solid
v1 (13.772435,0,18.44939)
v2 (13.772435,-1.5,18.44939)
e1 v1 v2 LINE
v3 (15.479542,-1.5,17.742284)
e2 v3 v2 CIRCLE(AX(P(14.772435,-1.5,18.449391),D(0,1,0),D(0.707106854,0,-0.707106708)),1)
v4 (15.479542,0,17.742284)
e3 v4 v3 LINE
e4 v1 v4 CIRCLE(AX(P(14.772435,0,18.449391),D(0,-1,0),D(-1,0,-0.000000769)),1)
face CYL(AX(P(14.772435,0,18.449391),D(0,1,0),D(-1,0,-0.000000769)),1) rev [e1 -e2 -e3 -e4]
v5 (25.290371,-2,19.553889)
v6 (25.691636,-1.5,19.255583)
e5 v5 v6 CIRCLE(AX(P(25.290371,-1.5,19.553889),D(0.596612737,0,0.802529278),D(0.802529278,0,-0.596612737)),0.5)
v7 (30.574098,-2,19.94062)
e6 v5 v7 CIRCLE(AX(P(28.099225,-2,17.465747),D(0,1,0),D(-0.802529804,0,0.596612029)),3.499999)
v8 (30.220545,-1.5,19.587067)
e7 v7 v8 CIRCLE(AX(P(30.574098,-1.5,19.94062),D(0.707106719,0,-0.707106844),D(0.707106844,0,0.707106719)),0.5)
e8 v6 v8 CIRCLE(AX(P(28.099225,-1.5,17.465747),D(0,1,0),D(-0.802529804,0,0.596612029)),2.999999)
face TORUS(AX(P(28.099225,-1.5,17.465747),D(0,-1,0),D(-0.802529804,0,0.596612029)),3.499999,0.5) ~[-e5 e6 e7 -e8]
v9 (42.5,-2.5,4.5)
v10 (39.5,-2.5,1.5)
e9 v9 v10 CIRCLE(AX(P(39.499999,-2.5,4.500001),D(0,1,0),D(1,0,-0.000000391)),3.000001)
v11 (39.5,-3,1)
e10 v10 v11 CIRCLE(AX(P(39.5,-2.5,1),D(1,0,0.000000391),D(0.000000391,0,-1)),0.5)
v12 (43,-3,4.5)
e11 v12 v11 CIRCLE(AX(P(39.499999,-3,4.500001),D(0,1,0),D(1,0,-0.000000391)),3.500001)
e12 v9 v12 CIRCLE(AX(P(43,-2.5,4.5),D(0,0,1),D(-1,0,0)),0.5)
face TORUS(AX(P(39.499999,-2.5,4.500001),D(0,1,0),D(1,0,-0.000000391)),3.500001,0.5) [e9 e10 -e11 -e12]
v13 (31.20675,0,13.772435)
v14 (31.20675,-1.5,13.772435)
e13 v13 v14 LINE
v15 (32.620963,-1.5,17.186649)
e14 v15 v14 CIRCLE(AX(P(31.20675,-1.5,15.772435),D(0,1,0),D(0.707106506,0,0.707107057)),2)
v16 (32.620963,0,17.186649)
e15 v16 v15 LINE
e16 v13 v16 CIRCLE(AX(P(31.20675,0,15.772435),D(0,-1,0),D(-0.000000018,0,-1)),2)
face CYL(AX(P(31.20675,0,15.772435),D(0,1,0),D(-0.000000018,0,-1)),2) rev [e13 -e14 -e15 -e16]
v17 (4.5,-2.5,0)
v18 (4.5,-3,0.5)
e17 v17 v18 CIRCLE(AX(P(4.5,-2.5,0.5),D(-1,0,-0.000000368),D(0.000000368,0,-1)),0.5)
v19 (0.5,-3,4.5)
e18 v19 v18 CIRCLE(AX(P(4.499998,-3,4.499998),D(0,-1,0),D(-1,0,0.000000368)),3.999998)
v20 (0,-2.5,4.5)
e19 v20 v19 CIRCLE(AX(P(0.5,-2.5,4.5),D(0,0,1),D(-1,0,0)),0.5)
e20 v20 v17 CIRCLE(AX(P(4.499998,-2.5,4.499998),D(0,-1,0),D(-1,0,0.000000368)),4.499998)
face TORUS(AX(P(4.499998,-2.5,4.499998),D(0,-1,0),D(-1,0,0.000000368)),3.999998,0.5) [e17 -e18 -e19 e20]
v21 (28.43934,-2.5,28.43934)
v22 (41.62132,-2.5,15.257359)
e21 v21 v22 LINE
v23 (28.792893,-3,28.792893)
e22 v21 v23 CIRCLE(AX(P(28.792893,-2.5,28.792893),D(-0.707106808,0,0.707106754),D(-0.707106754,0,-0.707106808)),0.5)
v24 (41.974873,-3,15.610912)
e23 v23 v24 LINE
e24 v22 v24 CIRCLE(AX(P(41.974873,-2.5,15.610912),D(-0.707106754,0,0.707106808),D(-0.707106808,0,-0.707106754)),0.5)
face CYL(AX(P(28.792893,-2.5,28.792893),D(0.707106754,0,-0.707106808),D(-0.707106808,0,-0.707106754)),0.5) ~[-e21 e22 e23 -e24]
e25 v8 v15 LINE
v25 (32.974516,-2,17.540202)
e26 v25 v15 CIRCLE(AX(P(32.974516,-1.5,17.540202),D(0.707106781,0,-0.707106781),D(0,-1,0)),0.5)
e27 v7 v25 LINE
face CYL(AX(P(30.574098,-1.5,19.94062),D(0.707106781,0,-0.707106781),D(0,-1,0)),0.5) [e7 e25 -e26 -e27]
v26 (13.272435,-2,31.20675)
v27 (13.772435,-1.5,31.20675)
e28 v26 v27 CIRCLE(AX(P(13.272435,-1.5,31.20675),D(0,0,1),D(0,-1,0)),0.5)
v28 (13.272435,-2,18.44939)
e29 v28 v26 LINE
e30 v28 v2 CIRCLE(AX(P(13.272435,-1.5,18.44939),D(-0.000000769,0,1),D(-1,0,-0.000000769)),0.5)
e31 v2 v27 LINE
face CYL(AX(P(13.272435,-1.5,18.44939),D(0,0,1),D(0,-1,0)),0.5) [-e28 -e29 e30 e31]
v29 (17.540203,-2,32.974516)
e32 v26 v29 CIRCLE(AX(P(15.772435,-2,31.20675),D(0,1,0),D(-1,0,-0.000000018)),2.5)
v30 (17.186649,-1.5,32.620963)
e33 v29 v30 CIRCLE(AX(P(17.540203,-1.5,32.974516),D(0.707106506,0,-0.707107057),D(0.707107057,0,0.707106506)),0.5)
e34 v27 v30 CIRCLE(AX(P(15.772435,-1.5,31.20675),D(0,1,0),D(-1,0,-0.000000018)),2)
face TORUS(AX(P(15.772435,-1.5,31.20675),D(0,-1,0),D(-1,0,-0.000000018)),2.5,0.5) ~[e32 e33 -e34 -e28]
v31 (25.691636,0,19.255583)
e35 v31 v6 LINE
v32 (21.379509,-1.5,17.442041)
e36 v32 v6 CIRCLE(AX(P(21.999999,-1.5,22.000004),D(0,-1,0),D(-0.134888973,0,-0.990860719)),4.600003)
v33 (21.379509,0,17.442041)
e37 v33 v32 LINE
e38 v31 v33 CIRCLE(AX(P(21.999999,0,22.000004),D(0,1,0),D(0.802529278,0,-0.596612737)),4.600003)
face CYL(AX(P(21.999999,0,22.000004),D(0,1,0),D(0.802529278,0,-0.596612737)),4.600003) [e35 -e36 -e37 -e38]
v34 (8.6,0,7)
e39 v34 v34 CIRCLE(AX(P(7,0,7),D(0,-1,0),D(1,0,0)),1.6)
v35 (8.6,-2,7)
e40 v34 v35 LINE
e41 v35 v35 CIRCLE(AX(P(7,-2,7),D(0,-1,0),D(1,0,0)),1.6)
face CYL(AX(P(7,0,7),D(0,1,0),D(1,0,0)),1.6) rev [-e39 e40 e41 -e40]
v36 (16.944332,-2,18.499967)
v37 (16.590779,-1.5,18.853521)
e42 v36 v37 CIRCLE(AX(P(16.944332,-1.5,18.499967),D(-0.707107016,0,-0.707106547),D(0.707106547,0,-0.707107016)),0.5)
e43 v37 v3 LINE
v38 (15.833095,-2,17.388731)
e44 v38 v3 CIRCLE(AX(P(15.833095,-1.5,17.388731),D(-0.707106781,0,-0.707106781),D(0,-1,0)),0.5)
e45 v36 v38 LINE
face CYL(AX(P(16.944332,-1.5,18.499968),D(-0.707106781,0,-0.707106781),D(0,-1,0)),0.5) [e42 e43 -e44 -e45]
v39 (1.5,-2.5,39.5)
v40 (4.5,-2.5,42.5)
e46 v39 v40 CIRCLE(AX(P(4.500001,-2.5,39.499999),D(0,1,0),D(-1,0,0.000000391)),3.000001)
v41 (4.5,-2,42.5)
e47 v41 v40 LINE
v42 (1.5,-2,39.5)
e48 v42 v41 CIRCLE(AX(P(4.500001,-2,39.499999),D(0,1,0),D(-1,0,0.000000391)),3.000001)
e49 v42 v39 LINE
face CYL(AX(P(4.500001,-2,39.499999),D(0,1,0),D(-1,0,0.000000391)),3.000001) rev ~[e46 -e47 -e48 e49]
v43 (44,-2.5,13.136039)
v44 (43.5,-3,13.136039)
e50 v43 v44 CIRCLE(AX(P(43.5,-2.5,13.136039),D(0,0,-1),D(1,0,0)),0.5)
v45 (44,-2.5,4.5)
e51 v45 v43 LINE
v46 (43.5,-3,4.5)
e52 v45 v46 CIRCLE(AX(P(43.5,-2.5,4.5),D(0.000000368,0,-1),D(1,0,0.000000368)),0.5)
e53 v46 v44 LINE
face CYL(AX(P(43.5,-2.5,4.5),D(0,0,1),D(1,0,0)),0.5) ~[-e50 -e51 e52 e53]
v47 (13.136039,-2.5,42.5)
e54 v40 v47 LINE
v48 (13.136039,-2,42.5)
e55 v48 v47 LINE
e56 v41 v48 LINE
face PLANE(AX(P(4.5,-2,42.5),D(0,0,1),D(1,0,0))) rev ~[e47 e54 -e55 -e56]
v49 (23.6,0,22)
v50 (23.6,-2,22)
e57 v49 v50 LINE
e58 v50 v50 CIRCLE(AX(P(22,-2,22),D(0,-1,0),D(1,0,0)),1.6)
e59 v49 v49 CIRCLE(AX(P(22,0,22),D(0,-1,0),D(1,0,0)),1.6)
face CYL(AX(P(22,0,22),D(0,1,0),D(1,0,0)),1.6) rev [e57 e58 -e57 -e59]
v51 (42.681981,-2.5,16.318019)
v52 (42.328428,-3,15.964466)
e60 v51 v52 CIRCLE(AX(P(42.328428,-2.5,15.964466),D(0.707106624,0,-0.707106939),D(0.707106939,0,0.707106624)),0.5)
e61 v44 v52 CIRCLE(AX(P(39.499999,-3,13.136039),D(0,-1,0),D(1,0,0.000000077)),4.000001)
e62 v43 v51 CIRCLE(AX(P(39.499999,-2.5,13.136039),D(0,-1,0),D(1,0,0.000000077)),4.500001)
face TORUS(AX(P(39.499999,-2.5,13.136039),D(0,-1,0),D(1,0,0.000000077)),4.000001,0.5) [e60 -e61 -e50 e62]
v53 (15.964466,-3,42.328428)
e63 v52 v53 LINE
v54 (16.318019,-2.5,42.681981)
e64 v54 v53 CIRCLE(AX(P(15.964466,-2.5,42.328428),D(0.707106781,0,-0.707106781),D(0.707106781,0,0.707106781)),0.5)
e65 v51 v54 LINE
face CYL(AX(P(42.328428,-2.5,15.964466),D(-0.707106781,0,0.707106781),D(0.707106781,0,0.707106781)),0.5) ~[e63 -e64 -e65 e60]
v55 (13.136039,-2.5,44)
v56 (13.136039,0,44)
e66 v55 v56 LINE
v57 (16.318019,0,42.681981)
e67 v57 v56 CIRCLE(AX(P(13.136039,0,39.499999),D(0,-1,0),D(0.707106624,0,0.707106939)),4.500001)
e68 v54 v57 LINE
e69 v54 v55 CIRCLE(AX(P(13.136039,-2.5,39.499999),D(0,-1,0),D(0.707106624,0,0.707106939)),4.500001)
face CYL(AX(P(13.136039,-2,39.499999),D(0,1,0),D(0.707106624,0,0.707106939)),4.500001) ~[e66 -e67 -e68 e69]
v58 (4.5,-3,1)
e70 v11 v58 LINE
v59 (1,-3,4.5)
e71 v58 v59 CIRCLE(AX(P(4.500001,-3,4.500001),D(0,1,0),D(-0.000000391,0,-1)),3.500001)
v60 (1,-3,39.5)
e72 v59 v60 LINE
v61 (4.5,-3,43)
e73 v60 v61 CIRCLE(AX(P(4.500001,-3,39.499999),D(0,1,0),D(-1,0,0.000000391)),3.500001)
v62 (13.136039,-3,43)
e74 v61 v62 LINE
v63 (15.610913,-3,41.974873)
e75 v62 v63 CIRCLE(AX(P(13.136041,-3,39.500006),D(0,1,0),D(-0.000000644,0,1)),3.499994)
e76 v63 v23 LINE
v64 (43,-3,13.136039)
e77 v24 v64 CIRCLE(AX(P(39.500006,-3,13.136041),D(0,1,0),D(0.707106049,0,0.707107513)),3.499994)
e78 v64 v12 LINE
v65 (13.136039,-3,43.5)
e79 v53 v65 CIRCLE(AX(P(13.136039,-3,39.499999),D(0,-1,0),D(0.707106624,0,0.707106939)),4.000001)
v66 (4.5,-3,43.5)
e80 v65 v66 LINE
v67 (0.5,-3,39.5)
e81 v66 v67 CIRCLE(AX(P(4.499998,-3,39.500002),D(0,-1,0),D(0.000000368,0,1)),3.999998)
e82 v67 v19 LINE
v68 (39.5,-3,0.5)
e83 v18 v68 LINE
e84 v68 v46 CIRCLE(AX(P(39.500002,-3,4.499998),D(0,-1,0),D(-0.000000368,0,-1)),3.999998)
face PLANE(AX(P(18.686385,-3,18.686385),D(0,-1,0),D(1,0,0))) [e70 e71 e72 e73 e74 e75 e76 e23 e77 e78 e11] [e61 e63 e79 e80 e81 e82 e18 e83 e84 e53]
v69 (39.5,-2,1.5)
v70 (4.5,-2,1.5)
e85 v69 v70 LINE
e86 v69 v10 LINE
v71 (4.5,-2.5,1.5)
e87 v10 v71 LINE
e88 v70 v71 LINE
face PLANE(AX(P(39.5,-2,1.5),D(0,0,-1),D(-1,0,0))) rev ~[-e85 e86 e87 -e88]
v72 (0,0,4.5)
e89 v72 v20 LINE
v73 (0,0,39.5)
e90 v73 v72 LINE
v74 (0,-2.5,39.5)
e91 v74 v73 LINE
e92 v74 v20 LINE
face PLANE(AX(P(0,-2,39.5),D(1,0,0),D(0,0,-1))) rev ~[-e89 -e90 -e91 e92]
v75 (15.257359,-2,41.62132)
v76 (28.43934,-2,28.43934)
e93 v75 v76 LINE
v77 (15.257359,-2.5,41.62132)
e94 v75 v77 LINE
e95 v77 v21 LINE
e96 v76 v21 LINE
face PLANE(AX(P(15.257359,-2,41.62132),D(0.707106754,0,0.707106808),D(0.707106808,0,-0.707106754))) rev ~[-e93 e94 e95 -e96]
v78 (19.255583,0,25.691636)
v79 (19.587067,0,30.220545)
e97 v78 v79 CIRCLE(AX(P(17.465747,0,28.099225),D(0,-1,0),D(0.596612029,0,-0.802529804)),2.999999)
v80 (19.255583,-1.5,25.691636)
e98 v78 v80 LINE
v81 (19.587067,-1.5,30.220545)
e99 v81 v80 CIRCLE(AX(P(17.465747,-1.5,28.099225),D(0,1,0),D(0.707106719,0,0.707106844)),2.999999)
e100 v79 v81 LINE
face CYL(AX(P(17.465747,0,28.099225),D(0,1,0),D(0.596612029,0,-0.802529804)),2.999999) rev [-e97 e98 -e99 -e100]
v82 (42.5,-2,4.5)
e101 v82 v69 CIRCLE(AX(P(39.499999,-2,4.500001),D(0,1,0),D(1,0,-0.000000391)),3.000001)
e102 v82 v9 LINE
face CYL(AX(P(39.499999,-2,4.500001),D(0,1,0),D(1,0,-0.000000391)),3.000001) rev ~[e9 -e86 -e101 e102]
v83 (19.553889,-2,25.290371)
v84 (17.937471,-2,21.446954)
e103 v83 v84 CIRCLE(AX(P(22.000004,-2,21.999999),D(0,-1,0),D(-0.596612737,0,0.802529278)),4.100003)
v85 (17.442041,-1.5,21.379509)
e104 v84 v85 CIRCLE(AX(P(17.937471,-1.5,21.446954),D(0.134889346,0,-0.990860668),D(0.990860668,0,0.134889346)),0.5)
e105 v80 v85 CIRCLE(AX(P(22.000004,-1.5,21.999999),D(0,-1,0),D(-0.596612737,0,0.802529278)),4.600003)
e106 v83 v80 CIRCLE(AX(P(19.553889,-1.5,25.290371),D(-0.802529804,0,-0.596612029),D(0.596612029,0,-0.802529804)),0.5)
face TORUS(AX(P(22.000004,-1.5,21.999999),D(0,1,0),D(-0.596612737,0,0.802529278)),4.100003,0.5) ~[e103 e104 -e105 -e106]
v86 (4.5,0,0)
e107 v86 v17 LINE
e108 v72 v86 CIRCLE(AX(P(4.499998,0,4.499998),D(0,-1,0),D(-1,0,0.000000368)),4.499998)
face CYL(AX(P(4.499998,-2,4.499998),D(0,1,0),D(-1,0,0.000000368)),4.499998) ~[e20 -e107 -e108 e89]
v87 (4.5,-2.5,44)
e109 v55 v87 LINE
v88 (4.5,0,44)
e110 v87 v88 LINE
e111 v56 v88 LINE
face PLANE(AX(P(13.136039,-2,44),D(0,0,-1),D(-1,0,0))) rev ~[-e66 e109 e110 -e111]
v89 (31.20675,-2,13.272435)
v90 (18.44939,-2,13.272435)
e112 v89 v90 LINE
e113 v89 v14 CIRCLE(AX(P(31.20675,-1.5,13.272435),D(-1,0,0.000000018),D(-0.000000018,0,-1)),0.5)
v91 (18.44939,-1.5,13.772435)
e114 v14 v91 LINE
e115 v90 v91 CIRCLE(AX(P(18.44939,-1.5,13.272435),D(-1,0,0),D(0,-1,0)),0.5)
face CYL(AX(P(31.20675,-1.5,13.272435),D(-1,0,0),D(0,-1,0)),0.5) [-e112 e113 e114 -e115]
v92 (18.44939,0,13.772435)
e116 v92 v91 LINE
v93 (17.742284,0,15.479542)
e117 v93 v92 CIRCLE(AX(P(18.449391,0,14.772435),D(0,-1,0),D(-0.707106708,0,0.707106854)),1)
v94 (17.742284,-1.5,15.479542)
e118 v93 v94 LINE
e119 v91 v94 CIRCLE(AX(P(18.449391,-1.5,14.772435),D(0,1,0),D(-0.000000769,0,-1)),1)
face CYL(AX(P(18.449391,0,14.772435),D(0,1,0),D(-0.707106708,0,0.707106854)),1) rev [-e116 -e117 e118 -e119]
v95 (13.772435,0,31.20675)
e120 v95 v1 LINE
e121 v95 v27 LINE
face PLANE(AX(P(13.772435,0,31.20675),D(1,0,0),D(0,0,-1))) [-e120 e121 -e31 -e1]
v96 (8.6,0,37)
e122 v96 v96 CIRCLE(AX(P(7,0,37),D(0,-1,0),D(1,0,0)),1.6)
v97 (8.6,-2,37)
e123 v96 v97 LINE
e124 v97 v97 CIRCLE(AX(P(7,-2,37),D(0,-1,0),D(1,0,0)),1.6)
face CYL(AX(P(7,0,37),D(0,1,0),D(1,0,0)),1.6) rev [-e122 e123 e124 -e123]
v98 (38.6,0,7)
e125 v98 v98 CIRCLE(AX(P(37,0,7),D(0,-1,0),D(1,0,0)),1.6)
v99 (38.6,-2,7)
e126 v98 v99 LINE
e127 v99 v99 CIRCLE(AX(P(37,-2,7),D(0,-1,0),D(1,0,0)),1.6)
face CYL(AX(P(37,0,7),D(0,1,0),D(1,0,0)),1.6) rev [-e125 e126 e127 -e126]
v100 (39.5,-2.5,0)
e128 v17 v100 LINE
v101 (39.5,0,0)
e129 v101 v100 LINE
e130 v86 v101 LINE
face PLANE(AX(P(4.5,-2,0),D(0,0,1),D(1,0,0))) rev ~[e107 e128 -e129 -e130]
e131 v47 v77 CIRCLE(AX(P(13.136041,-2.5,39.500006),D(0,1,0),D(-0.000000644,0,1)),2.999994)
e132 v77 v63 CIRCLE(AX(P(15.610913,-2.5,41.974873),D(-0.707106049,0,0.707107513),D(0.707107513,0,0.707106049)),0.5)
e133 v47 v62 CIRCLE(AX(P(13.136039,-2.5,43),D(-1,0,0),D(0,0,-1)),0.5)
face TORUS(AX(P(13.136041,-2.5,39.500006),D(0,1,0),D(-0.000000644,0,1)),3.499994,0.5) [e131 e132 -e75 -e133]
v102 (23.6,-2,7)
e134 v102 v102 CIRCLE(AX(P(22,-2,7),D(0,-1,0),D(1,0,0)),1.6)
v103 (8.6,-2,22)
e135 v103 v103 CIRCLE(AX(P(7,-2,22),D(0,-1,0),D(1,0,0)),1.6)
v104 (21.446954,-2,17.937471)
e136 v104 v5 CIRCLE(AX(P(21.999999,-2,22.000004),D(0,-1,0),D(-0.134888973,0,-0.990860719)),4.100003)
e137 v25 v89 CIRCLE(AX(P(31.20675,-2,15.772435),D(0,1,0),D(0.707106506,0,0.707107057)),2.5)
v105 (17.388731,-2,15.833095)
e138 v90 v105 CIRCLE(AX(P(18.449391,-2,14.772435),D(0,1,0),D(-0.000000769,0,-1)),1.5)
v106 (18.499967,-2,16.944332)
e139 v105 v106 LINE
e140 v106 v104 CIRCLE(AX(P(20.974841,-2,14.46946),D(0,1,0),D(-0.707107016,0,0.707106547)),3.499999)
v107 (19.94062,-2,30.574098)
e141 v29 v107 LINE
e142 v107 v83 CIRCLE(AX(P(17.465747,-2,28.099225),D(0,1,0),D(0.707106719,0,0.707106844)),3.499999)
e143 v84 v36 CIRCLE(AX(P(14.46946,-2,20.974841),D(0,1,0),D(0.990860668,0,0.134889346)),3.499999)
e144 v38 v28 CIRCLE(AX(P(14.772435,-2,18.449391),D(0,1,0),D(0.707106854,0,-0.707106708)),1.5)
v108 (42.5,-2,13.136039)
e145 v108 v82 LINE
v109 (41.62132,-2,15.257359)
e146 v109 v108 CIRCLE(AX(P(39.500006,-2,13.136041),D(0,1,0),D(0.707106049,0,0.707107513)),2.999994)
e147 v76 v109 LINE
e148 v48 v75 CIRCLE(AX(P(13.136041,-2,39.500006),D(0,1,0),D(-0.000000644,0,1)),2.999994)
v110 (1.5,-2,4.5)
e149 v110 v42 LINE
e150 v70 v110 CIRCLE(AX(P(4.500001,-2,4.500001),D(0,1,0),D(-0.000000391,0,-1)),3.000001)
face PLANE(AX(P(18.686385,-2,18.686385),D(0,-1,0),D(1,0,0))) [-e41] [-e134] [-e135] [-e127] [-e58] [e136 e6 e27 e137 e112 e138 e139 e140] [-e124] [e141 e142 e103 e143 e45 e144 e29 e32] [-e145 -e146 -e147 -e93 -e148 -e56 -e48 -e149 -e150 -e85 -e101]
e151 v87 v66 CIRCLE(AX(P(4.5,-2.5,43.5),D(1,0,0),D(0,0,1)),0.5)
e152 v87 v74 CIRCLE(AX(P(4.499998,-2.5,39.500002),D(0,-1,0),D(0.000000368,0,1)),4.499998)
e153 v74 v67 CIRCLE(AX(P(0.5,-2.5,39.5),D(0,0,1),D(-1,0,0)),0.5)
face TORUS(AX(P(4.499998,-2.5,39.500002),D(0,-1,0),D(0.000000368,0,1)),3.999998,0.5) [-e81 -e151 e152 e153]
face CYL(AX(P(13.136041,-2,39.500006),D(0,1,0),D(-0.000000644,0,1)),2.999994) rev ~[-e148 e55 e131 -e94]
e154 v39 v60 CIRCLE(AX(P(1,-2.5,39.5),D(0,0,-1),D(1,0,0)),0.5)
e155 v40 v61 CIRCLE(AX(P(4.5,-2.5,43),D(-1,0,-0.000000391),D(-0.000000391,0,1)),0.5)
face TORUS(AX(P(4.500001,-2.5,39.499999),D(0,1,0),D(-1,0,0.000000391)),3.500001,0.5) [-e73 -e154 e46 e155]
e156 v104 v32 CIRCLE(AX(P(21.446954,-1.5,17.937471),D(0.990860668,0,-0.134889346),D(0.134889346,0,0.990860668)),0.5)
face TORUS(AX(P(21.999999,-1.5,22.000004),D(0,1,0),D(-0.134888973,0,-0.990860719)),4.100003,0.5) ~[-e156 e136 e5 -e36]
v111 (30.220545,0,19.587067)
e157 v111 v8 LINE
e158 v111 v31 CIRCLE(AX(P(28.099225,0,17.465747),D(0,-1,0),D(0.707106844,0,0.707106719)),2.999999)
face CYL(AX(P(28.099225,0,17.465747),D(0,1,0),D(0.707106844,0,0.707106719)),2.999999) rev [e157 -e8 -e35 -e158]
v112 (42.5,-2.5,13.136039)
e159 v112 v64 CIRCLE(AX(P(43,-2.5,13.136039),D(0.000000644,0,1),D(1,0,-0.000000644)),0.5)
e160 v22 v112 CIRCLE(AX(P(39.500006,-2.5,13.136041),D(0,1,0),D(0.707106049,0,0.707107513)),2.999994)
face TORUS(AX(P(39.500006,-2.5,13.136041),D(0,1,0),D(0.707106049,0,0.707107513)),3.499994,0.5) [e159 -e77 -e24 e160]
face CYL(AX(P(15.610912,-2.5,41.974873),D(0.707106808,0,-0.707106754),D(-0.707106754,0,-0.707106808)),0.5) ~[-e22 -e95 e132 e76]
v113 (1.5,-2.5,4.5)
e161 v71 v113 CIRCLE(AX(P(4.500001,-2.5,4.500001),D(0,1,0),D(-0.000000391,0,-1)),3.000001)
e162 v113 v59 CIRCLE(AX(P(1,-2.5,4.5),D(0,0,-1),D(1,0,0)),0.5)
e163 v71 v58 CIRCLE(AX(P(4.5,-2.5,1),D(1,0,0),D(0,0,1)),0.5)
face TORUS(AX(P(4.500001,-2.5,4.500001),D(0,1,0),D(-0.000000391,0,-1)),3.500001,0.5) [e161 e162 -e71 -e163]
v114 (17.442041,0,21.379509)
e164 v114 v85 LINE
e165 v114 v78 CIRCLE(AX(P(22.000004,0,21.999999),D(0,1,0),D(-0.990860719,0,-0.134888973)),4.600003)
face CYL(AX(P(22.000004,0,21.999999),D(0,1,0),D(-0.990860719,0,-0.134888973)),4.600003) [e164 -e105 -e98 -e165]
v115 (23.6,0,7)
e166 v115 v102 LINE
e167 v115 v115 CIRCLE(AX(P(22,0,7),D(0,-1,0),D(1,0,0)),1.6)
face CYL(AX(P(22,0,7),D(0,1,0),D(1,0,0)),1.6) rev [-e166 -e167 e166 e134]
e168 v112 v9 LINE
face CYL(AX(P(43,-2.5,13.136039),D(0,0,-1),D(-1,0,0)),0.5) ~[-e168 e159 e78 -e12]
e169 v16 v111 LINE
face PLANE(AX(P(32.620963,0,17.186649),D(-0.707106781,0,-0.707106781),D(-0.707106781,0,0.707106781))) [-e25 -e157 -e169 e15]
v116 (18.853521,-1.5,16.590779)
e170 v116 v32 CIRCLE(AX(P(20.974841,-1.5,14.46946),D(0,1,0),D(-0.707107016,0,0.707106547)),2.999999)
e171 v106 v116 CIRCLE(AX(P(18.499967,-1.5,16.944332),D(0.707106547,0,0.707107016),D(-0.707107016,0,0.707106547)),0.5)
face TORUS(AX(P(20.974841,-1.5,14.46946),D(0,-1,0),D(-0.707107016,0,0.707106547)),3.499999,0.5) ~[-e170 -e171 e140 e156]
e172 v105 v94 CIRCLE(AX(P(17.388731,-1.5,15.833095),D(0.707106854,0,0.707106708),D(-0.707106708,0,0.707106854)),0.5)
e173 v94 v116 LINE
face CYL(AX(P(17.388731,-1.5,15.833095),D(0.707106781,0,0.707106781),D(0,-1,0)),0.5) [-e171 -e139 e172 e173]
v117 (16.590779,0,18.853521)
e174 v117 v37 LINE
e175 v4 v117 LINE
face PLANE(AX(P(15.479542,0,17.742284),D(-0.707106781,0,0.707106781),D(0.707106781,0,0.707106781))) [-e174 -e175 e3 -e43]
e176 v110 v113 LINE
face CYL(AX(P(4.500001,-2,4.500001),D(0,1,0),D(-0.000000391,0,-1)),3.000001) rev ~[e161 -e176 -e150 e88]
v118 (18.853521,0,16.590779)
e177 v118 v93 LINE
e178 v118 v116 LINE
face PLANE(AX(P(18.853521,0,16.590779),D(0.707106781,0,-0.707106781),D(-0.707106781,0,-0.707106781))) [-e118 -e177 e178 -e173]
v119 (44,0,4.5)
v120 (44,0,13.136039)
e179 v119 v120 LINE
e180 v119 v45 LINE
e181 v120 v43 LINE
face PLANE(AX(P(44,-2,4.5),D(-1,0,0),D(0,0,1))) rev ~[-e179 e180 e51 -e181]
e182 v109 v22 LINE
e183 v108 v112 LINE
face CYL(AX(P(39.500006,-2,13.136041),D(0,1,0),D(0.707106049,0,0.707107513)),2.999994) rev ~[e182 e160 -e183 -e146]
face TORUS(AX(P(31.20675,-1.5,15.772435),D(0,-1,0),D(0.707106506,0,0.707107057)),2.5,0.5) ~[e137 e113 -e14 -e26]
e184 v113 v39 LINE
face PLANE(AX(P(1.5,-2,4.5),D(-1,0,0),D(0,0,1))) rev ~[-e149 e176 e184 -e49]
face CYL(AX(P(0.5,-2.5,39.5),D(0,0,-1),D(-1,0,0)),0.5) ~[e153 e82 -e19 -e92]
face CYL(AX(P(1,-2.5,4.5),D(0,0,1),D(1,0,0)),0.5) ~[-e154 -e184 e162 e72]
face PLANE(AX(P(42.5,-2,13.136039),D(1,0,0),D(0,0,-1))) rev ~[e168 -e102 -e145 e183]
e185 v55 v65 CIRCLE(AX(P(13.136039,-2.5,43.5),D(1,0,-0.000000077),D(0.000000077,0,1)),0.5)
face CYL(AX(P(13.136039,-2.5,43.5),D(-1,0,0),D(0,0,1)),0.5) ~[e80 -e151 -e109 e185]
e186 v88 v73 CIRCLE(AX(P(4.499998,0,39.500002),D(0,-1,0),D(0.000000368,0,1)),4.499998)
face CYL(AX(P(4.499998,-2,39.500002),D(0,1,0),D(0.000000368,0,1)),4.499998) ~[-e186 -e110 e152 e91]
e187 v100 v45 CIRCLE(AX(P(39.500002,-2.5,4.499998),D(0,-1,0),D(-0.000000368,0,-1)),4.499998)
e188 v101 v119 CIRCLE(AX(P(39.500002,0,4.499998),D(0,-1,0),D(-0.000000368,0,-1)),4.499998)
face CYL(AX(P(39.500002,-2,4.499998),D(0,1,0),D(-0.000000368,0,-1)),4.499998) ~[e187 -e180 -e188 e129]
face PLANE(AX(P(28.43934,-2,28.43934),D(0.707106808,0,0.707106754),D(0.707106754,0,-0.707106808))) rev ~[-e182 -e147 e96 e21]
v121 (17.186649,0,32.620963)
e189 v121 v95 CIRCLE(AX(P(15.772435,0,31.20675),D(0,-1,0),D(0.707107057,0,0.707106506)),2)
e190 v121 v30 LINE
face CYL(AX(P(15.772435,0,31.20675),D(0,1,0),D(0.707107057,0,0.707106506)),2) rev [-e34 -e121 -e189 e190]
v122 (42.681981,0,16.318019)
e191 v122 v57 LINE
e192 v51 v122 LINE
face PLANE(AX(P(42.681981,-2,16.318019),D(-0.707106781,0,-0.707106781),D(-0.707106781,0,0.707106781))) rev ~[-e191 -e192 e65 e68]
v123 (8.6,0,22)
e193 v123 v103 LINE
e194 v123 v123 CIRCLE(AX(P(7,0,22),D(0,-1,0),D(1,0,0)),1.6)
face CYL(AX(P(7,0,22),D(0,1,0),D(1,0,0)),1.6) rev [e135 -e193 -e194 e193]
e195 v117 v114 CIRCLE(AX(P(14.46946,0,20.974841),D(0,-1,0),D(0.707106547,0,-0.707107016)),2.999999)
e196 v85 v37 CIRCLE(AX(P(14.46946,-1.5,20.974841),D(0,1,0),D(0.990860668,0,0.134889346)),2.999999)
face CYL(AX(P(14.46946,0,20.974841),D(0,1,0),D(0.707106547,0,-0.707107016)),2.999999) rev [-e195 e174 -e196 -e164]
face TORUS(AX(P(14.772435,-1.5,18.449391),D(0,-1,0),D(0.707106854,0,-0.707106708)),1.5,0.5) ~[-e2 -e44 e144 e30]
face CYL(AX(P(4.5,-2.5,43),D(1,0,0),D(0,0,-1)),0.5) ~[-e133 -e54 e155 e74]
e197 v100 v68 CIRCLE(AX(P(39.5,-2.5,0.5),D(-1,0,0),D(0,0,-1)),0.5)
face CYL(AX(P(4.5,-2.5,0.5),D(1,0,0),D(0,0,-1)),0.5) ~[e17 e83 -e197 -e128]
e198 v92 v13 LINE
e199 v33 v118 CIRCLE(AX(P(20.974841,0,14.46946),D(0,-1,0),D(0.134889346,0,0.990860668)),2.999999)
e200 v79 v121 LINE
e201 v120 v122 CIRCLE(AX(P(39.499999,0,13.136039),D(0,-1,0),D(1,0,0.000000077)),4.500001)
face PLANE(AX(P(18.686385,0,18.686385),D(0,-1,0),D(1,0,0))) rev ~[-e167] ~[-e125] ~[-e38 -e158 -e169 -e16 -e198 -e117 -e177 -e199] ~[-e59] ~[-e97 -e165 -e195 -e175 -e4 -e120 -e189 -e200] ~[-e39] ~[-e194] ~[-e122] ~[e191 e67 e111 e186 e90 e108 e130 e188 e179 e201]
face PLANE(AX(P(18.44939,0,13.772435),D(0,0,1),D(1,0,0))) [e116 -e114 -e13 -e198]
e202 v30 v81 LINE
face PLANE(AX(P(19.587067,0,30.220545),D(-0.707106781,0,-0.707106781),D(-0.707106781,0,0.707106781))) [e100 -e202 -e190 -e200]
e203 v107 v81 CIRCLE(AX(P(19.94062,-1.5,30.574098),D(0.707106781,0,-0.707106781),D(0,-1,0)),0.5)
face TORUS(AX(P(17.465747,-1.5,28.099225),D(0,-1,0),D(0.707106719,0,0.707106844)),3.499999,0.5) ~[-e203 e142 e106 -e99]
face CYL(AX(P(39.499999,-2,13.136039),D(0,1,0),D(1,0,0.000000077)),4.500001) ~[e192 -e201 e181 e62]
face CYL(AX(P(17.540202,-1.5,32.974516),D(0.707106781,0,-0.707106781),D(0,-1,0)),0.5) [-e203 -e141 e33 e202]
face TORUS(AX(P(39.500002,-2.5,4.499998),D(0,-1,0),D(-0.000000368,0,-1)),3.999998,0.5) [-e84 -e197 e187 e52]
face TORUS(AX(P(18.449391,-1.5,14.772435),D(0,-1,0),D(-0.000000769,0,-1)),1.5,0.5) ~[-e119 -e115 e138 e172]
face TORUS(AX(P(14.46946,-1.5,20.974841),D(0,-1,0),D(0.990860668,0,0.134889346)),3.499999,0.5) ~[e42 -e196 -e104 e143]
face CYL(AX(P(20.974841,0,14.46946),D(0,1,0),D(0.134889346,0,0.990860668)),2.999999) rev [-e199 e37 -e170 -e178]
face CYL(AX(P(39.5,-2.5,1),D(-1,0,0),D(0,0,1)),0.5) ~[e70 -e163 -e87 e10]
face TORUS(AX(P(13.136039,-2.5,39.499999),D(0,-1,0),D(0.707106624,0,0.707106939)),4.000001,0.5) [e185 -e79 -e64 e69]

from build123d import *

# Parameters (mm, degrees)
F0_R     = 1.6
F1_DEPTH = 2
F3_DEPTH = 2.001
F5_DEPTH = 1
F6_R     = 0.5


with BuildPart() as f1:
    # F0 (on Front) → F1 (new body)
    with BuildSketch(Plane.XZ):
        with BuildLine():
            ThreePointArc((0, 4.5), (1.318019, 1.318019), (4.5, 0))
            Line((4.5, 0), (39.5, 0))
            ThreePointArc((39.5, 0), (42.681981, 1.318019), (44, 4.5))
            Line((44, 4.5), (44, 13.136039))
            ThreePointArc((44, 13.136039), (43.657458, 14.858114), (42.681981, 16.318019))
            Line((42.681981, 16.318019), (29.5, 29.5))
            Line((29.5, 29.5), (16.318019, 42.681981))
            ThreePointArc((16.318019, 42.681981), (14.858114, 43.657458), (13.136039, 44))
            Line((13.136039, 44), (4.5, 44))
            ThreePointArc((4.5, 44), (1.318019, 42.681981), (0, 39.5))
            Line((0, 39.5), (0, 4.5))
        make_face()
        with Locations((7, 7)):
            Circle(F0_R, mode=Mode.SUBTRACT)
        with Locations((22, 7)):
            Circle(F0_R, mode=Mode.SUBTRACT)
        with Locations((37, 7)):
            Circle(F0_R, mode=Mode.SUBTRACT)
        with Locations((7, 22)):
            Circle(F0_R, mode=Mode.SUBTRACT)
        with Locations((7, 37)):
            Circle(F0_R, mode=Mode.SUBTRACT)
        with Locations((22, 22)):
            Circle(F0_R, mode=Mode.SUBTRACT)
    extrude(amount=F1_DEPTH)

    # F2 (on Front) → F3 (cut, through all)
    with BuildSketch(Plane.XZ):
        with BuildLine():
            ThreePointArc((31.20675, 13.772435), (33.054509, 15.007068), (32.620963, 17.186649))
            Line((32.620963, 17.186649), (30.220545, 19.587067))
            ThreePointArc((30.220545, 19.587067), (27.880232, 20.457743), (25.691636, 19.255583))
            ThreePointArc((25.691636, 19.255583), (23.783316, 17.759743), (21.379509, 17.442041))
            ThreePointArc((21.379509, 17.442041), (20.016778, 17.312365), (18.853521, 16.590779))
            Line((18.853521, 16.590779), (17.742284, 15.479542))
            ThreePointArc((17.742284, 15.479542), (17.525511, 14.389752), (18.44939, 13.772435))
            Line((18.44939, 13.772435), (31.20675, 13.772435))
        make_face()
        with BuildLine():
            ThreePointArc((16.590779, 18.853521), (17.312365, 20.016778), (17.442041, 21.379509))
            ThreePointArc((17.442041, 21.379509), (17.759743, 23.783316), (19.255583, 25.691636))
            ThreePointArc((19.255583, 25.691636), (20.457743, 27.880232), (19.587067, 30.220545))
            Line((19.587067, 30.220545), (17.186649, 32.620963))
            ThreePointArc((17.186649, 32.620963), (15.007068, 33.054509), (13.772435, 31.20675))
            Line((13.772435, 31.20675), (13.772435, 18.44939))
            ThreePointArc((13.772435, 18.44939), (14.389752, 17.525511), (15.479542, 17.742284))
            Line((15.479542, 17.742284), (16.590779, 18.853521))
        make_face()
    extrude(amount=F3_DEPTH, mode=Mode.SUBTRACT)

    # F4 (on face) → F5 (join)
    with BuildSketch(Plane.XZ.offset(2)):
        with BuildLine():
            Line((0, 39.5), (0, 4.5))
            ThreePointArc((0, 4.5), (1.318019, 1.318019), (4.5, 0))
            Line((4.5, 0), (39.5, 0))
            ThreePointArc((39.5, 0), (42.681981, 1.318019), (44, 4.5))
            Line((44, 4.5), (44, 13.136039))
            ThreePointArc((44, 13.136039), (43.657458, 14.858114), (42.681981, 16.318019))
            Line((42.681981, 16.318019), (29.5, 29.5))
            Line((29.5, 29.5), (16.318019, 42.681981))
            ThreePointArc((16.318019, 42.681981), (14.858114, 43.657458), (13.136039, 44))
            Line((13.136039, 44), (4.5, 44))
            ThreePointArc((4.5, 44), (1.318019, 42.681981), (0, 39.5))
        make_face()
        with BuildLine():
            ThreePointArc((41.62132, 15.257359), (42.271639, 14.284089), (42.5, 13.136039))
            Line((42.5, 13.136039), (42.5, 4.5))
            ThreePointArc((42.5, 4.5), (41.62132, 2.37868), (39.5, 1.5))
            Line((39.5, 1.5), (4.5, 1.5))
            ThreePointArc((4.5, 1.5), (2.37868, 2.37868), (1.5, 4.5))
            Line((1.5, 4.5), (1.5, 39.5))
            ThreePointArc((1.5, 39.5), (2.37868, 41.62132), (4.5, 42.5))
            Line((4.5, 42.5), (13.136039, 42.5))
            ThreePointArc((13.136039, 42.5), (14.284089, 42.271639), (15.257359, 41.62132))
            Line((15.257359, 41.62132), (28.43934, 28.43934))
            Line((28.43934, 28.43934), (41.62132, 15.257359))
        make_face(mode=Mode.SUBTRACT)
    extrude(amount=F5_DEPTH)

    # F6
    f6_edges = [f1.edges().sort_by_distance(p)[0] for p in [
        (1.5, -3, 22),
        (0, -3, 22),
        (20.016778, -2, 17.312365),
        (17.312365, -2, 20.016778),
    ]]
    fillet(f6_edges, radius=F6_R)


solid = f1.part
